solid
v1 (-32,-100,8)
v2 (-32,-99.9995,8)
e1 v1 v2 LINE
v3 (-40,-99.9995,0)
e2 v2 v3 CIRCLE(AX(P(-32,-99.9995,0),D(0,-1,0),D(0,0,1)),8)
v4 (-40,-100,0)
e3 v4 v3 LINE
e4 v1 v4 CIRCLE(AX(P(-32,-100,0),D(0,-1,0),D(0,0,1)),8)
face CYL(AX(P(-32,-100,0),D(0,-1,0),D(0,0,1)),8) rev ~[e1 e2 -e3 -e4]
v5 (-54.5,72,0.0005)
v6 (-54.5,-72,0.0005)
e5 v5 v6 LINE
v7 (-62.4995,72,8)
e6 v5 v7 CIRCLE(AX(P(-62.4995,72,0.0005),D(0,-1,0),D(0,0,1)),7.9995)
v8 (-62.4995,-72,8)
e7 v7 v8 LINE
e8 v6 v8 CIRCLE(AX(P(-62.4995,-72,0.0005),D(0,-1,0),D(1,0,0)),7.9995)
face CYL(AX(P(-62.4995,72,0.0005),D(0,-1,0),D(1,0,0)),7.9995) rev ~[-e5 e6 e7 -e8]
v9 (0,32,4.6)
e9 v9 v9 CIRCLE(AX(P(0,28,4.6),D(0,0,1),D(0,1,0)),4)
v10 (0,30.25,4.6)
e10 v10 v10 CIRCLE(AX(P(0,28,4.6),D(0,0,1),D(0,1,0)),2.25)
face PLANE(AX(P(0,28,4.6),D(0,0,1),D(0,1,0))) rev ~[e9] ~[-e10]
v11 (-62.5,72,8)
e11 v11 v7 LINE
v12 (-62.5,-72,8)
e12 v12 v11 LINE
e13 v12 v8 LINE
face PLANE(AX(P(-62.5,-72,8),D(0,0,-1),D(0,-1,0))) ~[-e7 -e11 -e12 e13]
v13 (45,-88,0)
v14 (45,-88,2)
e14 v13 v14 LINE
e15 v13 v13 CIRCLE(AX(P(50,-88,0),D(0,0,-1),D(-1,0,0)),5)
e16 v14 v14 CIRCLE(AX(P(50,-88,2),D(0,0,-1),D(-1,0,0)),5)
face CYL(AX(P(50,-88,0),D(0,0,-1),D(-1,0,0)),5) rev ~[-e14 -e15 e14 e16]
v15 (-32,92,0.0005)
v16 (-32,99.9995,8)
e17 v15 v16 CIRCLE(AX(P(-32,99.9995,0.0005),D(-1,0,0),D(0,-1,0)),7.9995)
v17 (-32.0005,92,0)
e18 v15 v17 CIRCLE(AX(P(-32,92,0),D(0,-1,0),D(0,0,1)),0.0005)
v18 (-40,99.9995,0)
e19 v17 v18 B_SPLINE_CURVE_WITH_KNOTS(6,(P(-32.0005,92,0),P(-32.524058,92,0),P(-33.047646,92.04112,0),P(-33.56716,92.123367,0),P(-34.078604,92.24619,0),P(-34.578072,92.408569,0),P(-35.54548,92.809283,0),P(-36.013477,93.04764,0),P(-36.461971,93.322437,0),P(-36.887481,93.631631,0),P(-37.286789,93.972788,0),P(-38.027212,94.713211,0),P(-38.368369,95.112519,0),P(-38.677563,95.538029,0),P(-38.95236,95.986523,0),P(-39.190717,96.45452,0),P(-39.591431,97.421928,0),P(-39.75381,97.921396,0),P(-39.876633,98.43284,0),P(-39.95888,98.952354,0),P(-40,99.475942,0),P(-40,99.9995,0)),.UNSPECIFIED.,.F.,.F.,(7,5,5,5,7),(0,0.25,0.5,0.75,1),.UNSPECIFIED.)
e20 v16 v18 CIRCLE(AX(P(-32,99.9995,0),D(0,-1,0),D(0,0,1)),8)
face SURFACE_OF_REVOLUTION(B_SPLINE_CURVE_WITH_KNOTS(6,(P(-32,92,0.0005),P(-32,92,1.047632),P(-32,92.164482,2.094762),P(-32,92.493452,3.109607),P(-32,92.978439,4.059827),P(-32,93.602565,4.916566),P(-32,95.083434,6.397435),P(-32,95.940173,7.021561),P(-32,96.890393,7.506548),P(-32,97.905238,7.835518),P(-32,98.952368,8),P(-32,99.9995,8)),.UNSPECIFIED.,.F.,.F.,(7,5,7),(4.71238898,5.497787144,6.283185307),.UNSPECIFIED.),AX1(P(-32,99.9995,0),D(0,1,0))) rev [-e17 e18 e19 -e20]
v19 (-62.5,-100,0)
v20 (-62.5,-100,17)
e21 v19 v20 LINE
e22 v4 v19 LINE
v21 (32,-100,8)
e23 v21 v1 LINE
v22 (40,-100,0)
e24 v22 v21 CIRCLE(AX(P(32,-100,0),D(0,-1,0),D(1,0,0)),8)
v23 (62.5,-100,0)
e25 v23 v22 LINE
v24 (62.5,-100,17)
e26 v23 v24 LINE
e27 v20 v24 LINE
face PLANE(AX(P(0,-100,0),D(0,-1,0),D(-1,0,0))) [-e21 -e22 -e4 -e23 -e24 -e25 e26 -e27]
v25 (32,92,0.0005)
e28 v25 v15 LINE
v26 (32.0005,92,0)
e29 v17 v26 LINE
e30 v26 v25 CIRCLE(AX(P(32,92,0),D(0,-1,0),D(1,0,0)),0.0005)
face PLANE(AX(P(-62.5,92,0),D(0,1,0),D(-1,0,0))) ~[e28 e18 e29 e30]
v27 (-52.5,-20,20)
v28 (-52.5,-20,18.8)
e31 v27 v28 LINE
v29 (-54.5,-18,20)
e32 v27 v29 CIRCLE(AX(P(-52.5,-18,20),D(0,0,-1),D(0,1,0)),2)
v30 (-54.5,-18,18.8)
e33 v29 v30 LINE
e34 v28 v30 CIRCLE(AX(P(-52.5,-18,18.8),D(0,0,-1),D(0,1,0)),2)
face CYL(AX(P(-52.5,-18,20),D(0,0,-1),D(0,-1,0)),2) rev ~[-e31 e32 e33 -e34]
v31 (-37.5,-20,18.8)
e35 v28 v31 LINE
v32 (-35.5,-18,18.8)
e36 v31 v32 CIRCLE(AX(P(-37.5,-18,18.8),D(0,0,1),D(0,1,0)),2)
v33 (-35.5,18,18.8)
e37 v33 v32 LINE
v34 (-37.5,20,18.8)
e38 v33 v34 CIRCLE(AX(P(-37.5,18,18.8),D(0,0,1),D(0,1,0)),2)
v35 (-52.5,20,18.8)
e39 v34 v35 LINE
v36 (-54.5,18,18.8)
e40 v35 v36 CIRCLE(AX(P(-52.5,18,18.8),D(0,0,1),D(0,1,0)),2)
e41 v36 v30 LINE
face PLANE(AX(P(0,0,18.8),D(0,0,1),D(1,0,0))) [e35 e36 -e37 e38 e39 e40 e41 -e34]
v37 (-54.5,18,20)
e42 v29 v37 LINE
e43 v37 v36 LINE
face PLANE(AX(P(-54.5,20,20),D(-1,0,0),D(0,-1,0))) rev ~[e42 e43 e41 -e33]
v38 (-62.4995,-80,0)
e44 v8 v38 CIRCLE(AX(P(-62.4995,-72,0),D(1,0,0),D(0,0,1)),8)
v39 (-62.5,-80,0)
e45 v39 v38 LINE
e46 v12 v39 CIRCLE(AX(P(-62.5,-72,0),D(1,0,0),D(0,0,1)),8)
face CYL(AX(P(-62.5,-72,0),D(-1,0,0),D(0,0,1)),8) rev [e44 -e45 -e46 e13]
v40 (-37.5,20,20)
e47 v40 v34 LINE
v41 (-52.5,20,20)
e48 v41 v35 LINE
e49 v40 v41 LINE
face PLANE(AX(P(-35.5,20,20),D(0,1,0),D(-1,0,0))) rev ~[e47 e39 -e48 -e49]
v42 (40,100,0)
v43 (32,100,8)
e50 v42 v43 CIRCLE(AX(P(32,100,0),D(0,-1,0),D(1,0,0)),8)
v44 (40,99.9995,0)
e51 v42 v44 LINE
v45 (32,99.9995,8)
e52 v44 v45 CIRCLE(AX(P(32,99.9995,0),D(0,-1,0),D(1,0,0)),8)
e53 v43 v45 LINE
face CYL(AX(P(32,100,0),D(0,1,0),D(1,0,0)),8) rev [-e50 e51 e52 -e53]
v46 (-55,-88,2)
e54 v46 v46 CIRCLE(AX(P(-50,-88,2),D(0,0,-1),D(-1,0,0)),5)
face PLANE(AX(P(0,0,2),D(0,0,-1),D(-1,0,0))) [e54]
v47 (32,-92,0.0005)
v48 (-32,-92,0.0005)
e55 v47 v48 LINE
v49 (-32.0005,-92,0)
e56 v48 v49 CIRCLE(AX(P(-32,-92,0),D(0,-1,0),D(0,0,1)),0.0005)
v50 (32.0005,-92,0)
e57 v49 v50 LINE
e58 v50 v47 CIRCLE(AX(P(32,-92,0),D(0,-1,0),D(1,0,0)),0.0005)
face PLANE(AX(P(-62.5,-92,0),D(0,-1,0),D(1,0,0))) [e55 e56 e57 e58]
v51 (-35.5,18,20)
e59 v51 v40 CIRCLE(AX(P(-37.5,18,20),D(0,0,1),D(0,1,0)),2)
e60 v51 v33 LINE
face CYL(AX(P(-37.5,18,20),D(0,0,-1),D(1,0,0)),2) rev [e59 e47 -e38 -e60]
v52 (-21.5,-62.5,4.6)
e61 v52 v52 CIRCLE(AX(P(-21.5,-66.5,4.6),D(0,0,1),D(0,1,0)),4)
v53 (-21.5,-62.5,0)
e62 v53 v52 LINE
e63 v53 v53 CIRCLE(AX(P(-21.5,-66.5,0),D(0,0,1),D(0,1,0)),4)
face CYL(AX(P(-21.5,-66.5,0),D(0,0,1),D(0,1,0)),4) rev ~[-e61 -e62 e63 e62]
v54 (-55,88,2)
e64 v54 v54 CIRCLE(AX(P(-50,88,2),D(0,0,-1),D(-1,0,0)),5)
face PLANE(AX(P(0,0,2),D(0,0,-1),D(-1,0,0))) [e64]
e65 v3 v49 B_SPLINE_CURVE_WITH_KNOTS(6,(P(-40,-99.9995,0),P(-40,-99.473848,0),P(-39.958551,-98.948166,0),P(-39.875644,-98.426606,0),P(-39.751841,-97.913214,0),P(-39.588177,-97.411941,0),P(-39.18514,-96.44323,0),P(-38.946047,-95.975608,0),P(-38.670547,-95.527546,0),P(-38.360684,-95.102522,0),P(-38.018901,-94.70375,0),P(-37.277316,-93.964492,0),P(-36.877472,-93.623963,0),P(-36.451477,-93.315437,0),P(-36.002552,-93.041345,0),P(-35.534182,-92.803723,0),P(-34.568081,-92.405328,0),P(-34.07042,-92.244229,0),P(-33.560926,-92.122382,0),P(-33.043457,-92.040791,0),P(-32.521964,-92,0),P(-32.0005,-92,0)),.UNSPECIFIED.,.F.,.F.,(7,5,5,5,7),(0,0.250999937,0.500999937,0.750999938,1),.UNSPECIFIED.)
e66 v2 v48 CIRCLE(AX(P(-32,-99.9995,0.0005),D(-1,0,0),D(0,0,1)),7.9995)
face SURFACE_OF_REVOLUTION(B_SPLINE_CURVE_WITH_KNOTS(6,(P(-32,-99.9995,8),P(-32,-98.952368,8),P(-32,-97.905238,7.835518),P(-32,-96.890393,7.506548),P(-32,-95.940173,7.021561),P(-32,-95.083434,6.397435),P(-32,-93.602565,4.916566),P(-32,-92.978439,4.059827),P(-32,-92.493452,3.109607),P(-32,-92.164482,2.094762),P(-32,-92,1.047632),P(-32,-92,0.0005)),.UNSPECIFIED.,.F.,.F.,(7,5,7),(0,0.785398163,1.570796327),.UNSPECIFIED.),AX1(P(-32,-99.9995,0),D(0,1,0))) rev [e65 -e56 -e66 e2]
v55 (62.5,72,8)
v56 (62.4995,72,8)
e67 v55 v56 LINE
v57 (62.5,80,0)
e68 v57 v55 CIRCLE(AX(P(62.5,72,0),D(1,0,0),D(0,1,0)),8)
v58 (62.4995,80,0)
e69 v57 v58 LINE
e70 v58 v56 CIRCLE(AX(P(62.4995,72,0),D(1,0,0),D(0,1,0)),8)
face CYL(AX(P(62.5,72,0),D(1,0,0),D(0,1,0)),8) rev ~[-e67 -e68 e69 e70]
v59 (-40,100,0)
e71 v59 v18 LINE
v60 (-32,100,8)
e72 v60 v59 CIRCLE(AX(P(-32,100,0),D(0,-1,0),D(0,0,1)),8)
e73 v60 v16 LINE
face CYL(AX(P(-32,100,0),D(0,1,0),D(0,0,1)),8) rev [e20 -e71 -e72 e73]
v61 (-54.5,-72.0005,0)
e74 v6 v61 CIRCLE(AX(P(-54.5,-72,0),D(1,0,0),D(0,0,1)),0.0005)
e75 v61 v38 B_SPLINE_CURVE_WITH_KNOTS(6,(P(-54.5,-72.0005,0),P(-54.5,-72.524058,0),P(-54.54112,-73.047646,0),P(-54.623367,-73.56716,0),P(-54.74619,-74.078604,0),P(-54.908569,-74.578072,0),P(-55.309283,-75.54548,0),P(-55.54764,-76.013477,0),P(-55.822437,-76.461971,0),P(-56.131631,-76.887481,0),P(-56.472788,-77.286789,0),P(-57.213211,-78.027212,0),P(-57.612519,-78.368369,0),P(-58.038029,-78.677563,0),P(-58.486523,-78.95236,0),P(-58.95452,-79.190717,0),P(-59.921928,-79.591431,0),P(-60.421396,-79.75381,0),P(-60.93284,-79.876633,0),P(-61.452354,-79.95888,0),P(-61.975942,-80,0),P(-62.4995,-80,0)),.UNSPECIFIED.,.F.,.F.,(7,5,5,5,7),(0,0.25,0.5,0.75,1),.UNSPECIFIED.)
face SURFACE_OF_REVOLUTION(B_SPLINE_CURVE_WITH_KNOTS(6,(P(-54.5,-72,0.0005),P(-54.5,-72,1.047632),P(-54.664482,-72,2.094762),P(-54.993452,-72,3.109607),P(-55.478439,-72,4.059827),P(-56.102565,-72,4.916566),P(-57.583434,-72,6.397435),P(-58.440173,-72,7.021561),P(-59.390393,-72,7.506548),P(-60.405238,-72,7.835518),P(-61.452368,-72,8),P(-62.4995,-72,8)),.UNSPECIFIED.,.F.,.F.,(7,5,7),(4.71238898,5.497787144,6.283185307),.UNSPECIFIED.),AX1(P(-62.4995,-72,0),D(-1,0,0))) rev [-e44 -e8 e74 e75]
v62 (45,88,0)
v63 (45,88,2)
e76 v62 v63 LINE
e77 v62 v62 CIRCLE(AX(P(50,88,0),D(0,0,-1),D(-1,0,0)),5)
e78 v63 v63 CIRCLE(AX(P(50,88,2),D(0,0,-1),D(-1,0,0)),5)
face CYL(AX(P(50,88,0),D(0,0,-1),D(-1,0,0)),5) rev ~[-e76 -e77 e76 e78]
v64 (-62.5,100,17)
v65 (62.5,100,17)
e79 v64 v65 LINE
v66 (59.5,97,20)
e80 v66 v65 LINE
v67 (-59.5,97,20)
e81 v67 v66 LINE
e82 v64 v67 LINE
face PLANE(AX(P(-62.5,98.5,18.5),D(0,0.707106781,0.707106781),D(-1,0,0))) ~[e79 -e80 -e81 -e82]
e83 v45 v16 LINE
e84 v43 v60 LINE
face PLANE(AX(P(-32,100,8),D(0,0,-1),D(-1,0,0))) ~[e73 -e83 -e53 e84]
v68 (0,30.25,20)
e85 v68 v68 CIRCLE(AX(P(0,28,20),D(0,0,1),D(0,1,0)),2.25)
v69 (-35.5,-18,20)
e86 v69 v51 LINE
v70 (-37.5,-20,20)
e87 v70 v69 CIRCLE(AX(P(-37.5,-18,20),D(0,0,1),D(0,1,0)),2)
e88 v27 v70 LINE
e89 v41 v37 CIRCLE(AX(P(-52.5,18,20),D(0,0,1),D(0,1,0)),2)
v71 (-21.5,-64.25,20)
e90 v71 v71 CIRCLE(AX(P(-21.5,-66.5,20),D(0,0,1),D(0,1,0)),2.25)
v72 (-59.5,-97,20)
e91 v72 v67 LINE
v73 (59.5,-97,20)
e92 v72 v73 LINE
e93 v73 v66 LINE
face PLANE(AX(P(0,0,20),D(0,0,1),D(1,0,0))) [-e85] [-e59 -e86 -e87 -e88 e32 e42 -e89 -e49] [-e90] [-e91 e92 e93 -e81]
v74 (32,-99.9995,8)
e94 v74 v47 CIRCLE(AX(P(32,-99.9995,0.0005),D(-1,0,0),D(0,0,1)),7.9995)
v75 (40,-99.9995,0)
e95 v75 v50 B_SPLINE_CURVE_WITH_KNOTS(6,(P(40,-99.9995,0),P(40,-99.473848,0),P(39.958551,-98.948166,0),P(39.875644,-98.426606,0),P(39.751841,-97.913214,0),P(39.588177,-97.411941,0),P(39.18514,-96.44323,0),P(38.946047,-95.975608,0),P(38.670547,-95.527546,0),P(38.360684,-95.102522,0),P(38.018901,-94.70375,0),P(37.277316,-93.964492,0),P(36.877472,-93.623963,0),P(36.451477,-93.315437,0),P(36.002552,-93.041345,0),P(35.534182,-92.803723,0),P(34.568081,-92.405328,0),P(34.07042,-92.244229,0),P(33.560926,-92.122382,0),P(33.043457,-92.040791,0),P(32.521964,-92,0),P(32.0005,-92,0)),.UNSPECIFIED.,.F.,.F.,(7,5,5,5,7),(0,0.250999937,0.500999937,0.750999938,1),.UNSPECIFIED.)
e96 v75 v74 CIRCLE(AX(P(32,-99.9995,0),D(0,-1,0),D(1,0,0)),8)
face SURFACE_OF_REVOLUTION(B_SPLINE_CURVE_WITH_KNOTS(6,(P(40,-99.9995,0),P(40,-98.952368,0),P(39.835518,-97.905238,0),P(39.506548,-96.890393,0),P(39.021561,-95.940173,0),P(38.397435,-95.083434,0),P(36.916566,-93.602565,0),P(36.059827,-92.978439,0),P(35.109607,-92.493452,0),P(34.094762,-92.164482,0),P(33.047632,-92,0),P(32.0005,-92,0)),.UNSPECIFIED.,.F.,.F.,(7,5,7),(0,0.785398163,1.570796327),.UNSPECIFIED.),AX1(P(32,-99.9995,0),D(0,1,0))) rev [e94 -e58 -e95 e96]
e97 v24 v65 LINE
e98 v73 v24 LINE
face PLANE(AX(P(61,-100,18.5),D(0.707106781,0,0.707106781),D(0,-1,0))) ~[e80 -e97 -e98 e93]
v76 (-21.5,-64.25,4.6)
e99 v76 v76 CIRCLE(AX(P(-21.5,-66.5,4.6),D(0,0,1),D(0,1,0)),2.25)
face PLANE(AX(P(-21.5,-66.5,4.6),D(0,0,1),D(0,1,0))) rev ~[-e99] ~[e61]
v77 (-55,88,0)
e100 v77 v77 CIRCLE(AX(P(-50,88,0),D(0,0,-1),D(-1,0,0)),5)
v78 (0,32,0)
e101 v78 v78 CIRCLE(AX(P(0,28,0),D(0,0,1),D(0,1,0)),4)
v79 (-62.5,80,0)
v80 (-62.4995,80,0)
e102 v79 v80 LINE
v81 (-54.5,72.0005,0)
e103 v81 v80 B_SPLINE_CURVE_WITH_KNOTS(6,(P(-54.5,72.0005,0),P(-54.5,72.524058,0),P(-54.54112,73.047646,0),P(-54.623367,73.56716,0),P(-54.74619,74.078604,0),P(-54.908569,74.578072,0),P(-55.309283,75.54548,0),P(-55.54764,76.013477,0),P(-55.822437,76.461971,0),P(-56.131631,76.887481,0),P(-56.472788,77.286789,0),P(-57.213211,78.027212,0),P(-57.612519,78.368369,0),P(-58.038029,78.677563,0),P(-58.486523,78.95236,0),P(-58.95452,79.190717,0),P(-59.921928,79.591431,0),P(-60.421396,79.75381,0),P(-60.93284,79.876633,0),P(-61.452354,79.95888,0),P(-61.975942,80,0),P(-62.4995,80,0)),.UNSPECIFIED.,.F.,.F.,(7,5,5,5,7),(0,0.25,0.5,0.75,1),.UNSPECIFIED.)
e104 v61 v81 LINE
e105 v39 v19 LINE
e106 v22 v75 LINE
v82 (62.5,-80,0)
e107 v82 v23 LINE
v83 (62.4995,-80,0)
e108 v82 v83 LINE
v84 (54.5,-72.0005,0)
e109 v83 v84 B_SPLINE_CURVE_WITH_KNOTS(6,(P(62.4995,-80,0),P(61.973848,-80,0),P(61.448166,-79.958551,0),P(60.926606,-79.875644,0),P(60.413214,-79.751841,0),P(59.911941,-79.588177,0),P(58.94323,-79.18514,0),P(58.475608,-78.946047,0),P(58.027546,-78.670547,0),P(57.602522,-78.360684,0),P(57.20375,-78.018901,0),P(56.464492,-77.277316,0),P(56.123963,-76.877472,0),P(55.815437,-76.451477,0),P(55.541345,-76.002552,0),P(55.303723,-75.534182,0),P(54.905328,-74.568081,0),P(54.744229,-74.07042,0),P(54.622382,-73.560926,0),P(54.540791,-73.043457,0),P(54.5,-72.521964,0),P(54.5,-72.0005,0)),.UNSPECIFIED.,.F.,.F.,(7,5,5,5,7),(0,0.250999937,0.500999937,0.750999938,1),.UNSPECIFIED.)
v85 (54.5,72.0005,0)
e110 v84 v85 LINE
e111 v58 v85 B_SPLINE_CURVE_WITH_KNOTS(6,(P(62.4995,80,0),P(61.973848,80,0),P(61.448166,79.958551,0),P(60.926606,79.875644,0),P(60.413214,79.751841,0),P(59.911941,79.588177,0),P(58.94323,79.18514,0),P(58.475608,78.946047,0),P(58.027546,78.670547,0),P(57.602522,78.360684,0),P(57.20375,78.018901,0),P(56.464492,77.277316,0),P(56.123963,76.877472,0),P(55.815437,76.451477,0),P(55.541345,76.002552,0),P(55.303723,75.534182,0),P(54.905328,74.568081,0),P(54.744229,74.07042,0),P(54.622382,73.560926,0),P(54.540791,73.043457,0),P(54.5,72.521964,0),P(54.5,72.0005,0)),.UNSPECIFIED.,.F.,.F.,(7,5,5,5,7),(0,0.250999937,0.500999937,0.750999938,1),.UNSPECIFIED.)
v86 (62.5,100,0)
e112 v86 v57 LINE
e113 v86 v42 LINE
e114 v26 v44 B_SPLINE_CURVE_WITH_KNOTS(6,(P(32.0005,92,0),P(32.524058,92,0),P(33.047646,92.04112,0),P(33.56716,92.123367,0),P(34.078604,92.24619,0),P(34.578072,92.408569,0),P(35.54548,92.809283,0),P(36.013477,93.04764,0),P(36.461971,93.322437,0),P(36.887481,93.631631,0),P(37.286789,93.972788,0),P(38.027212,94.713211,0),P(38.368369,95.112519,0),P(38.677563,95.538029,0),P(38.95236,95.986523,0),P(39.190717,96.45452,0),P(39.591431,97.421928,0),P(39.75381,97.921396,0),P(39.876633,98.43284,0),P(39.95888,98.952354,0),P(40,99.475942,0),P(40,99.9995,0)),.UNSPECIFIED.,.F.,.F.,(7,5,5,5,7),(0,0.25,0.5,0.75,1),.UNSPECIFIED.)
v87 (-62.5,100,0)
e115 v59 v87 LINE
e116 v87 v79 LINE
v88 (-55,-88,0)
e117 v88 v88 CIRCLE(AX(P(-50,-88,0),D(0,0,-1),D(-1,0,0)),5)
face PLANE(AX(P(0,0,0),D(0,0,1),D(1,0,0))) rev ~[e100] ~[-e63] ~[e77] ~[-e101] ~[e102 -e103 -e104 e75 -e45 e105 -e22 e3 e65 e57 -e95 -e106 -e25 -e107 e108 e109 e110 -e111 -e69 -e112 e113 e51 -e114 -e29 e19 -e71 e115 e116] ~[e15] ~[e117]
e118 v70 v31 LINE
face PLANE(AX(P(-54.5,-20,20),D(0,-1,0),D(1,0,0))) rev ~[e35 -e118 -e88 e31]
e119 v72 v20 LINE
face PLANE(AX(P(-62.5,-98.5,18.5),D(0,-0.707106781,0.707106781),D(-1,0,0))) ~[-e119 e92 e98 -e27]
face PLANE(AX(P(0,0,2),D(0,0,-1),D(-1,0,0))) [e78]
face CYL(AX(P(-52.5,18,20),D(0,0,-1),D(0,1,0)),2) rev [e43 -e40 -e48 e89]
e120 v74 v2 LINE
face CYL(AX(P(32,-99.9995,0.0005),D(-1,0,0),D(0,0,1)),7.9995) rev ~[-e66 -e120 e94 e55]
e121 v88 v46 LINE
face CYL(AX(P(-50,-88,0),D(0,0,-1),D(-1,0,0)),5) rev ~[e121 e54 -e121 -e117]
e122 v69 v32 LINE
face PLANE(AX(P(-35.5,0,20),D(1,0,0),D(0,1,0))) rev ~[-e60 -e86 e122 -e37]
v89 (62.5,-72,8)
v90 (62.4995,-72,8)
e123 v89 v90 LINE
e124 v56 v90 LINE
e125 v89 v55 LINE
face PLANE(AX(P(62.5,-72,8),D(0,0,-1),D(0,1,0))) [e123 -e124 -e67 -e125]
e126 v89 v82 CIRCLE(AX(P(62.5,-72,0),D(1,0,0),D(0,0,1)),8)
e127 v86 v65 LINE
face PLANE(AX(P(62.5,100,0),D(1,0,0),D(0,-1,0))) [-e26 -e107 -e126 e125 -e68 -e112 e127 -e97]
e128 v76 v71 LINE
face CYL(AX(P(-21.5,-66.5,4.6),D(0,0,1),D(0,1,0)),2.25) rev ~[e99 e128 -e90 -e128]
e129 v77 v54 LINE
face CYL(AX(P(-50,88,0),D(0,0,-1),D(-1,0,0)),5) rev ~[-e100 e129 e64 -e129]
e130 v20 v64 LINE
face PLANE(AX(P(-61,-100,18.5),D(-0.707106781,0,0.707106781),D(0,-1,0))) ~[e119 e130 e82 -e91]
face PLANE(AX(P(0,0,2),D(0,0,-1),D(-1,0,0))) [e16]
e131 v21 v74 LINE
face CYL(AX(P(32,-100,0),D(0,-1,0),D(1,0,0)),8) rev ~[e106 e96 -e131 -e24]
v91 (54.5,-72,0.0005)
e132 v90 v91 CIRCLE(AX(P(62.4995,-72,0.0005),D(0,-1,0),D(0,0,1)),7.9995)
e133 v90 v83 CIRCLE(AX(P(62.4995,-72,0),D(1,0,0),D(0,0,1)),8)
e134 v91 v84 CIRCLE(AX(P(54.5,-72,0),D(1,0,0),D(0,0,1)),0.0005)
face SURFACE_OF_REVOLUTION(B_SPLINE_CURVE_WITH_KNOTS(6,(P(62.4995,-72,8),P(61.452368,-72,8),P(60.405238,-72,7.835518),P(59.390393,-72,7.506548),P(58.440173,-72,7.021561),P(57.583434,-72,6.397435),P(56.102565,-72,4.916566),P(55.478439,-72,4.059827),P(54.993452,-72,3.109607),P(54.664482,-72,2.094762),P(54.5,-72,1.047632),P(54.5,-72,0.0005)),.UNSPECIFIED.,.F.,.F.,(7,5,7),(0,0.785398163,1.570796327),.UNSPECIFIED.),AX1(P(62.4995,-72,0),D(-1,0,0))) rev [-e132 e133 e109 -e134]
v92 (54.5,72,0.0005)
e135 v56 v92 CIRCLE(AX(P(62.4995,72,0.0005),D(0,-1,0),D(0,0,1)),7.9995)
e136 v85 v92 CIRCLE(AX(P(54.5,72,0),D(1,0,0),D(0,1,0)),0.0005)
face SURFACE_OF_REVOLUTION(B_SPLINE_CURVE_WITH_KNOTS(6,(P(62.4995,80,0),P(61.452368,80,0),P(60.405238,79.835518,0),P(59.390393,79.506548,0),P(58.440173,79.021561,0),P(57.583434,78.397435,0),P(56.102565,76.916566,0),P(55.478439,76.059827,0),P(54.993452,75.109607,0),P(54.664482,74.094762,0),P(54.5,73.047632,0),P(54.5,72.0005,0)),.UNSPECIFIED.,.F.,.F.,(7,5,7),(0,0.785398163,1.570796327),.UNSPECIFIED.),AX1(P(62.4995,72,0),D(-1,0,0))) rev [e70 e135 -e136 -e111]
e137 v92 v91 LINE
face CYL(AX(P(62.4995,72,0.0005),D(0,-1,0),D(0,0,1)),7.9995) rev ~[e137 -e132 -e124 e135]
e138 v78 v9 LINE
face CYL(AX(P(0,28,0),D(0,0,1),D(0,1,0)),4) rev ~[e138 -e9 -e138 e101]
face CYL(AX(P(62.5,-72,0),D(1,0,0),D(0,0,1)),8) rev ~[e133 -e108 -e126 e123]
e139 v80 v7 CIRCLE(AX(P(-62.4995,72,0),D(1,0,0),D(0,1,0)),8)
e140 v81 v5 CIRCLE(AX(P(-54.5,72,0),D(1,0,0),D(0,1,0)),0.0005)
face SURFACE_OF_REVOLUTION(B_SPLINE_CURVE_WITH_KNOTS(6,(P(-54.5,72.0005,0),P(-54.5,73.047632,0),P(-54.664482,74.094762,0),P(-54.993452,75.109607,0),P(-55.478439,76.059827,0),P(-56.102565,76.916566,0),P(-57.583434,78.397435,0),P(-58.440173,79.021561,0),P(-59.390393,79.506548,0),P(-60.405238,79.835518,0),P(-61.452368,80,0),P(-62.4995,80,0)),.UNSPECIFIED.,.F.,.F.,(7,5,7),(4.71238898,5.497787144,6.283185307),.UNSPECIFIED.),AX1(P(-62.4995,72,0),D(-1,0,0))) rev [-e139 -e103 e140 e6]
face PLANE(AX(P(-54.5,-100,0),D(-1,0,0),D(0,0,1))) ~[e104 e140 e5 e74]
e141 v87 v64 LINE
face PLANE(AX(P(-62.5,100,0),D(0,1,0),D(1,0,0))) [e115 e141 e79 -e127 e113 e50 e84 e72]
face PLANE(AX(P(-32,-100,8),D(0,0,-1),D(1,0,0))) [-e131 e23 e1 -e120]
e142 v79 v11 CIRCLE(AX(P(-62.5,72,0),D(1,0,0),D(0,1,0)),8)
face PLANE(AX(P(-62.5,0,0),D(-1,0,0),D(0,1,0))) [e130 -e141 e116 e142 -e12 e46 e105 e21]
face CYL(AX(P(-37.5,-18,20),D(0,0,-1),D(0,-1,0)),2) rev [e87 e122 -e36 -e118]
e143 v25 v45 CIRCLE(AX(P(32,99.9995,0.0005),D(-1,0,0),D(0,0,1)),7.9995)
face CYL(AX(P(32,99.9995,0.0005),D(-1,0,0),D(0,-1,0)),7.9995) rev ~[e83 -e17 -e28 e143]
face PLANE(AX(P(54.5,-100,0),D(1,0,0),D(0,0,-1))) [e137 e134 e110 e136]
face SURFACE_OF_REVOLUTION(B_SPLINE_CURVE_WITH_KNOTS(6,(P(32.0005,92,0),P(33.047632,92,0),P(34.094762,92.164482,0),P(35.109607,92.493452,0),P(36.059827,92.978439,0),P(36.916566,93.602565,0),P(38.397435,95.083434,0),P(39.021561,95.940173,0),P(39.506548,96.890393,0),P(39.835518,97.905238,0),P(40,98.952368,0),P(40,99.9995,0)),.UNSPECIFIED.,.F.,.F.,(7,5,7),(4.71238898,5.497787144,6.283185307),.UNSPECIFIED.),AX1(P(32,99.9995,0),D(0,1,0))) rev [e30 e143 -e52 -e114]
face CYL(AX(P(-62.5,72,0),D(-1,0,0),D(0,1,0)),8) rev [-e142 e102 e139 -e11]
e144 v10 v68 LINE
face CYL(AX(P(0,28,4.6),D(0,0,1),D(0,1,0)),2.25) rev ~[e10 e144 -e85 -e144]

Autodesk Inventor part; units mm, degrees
ref_plane "YZ Plane" through (0, 0, 0) normal (1, 0, 0) x (0, 1, 0)
ref_plane "XZ Plane" through (0, 0, 0) normal (0, 1, 0) x (-1, 0, 0)
ref_plane "XY Plane" through (0, 0, 0) normal (0, 0, 1) x (1, 0, 0)
sketch "Skizze1" plane through (0, 0, 0) normal (0, 0, 1) x (1, 0, 0)
  line L0 (-87.5, 0) -> (87.5, 0) projected
  line L1 (0, -140) -> (0, 140) projected
  line L2 (-62.5, 100) -> (62.5, 100)
  line L3 (62.5, 100) -> (62.5, -100)
  line L4 (62.5, -100) -> (-62.5, -100)
  line L5 (-62.5, -100) -> (-62.5, 100)
  point P0 (0, 0)
  dimension "d0" = 125
  dimension "d1" = 200
extrude "Grundkörper" add sketch "Skizze1" along normal blind 20
chamfer "umlaufende Fase 3x45°" distance 3 angle 45 4 edges at (0, -100, 20) (62.5, 0, 20) (0, 100, 20) (-62.5, 0, 20)
sketch "Fräsung Rund" plane through (-62.5, -100, 0) normal (0, -1, 0) x (1, 0, 0)
  line L0 (62.5, -4) -> (62.5, 24) projected
  line L1 (-25, 0) -> (150, 0) projected
  line L2 (125, 0) -> (0, 0) projected
  line L3 (30.5, 8) -> (94.5, 8)
  arc A0 (102.5, 0) -> (94.5, 8) centre (94.5, 0) ccw
  arc A1 (30.5, 8) -> (22.5, 0) centre (30.5, 0) ccw
  point P0 (62.5, 0)
  dimension "d13" = 80
  dimension "d14" = 8
  dimension "d15" = 8
  dimension "d16" = 8
extrude "Querfräsung 80" cut sketch "Fräsung Rund" against normal blind 8
fillet "Rundung Querfräsung" radius 8 3 edges at (37.6569, -92, 5.6569) (-37.6569, -92, 5.6569) (0, -92, 8)
mirror "Spiegeln Querfräsung" about plane through (0, 0, 0) normal (0, 1, 0) of "Querfräsung 80", "Rundung Querfräsung"
sketch "Skizze5" plane through (62.5, -100, 0) normal (1, 0, 0) x (0, 0, -1)
  line L0 (0, -40) -> (0, 240) projected
  line L1 (4, 100) -> (-24, 100) projected
  line L2 (0, 200) -> (0, 0) projected
  arc A0 (-8, 28) -> (0, 20) centre (0, 28) ccw
  arc A1 (0, 180) -> (-8, 172) centre (0, 172) ccw
  line L3 (-8, 28) -> (-8, 172)
  point P0 (0, 100)
  dimension "d21" = 8
  dimension "d22" = 8
  dimension "d23" = 8
  dimension "d24" = 160
extrude "Längsfräsung 160" cut sketch "Skizze5" against normal blind 8
fillet "Rundung Längsfräsung" radius 8 3 edges at (54.5, 77.6569, 5.6569) (54.5, -77.6569, 5.6569) (54.5, 0, 8)
mirror "Spiegeln Längsfräsung" about plane through (0, 0, 0) normal (1, 0, 0) of "Längsfräsung 160", "Rundung Längsfräsung"
sketch "Skizze6" plane through (0, 0, 20) normal (0, 0, 1) x (1, 0, 0)
  line L0 (-87.5, 0) -> (87.5, 0) projected
  line L1 (0, -140) -> (0, 140) projected
  line L2 (-54.5, -20) -> (-35.5, -20)
  line L3 (-35.5, -20) -> (-35.5, 20)
  line L4 (-35.5, 20) -> (-54.5, 20)
  line L5 (-54.5, 20) -> (-54.5, -20)
  line L6 (-62.5, 100) -> (-62.5, -100) projected
  point P0 (0, 0)
  dimension "d28" = 19
  dimension "d29" = 40
  dimension "d34" = 8
extrude "Tasche 40x19x1,2" cut sketch "Skizze6" against normal blind 1.2
fillet "Rundung Tasche" radius 2 4 edges at (-54.5, 20, 19.4) (-54.5, -20, 19.4) (-35.5, 20, 19.4) (-35.5, -20, 19.4)
sketch "Skizze9" plane through (0, 0, 0) normal (0, 0, -1) x (-1, 0, 0)
  line L0 (-62.5, -100) -> (-40, -100) projected
  line L1 (0, -140) -> (0, 140) projected
  line L2 (87.5, 0) -> (-87.5, 0) projected
  line L3 (62.5, -100) -> (62.5, -80) projected
  line L4 (40, -100) -> (62.5, -100) projected
  point P0 (0, 0)
  point P1 (21.5, -66.5)
  point P2 (0, 28)
  dimension "d65" = 33.5
  dimension "d66" = 94.5
  dimension "d67" = 21.5
hole "Durchgangsbohrung Ø4,5" at (-21.5, -66.5, 0) at (0, 28, 0) direction (0, 0, 1) diameter 4.5 end through all counterbore diameter 8 counterbore depth 4.6 clearance for "Sechskantkopfschraube DIN EN 24017" size "M4" standard "DIN"
sketch "Skizze10" plane through (0, 0, 0) normal (0, 0, -1) x (-1, 0, 0)
  line L0 (-32, 100) -> (32, 100) projected
  line L1 (62.5, 72) -> (62.5, -72) projected
  line L2 (-87.5, 0) -> (87.5, 0) projected
  line L3 (0, -140) -> (0, 140) projected
  circle A0 centre (-50, 88) radius 5
  circle A1 centre (50, 88) radius 5
  circle A2 centre (-50, -88) radius 5
  circle A3 centre (50, -88) radius 5
  point P0 (0, 0)
  dimension "d68" = 50
  dimension "d69" = 100
  dimension "d70" = 176
  dimension "d71" = 176
  dimension "d72" = 50
  dimension "d73" = 100
  dimension "d74" = 10
  dimension "d75" = 10
  dimension "d76" = 10
  dimension "d77" = 10
extrude "Extrusion5" cut sketch "Skizze10" against normal blind 2
properties part number "Grundplatte"
